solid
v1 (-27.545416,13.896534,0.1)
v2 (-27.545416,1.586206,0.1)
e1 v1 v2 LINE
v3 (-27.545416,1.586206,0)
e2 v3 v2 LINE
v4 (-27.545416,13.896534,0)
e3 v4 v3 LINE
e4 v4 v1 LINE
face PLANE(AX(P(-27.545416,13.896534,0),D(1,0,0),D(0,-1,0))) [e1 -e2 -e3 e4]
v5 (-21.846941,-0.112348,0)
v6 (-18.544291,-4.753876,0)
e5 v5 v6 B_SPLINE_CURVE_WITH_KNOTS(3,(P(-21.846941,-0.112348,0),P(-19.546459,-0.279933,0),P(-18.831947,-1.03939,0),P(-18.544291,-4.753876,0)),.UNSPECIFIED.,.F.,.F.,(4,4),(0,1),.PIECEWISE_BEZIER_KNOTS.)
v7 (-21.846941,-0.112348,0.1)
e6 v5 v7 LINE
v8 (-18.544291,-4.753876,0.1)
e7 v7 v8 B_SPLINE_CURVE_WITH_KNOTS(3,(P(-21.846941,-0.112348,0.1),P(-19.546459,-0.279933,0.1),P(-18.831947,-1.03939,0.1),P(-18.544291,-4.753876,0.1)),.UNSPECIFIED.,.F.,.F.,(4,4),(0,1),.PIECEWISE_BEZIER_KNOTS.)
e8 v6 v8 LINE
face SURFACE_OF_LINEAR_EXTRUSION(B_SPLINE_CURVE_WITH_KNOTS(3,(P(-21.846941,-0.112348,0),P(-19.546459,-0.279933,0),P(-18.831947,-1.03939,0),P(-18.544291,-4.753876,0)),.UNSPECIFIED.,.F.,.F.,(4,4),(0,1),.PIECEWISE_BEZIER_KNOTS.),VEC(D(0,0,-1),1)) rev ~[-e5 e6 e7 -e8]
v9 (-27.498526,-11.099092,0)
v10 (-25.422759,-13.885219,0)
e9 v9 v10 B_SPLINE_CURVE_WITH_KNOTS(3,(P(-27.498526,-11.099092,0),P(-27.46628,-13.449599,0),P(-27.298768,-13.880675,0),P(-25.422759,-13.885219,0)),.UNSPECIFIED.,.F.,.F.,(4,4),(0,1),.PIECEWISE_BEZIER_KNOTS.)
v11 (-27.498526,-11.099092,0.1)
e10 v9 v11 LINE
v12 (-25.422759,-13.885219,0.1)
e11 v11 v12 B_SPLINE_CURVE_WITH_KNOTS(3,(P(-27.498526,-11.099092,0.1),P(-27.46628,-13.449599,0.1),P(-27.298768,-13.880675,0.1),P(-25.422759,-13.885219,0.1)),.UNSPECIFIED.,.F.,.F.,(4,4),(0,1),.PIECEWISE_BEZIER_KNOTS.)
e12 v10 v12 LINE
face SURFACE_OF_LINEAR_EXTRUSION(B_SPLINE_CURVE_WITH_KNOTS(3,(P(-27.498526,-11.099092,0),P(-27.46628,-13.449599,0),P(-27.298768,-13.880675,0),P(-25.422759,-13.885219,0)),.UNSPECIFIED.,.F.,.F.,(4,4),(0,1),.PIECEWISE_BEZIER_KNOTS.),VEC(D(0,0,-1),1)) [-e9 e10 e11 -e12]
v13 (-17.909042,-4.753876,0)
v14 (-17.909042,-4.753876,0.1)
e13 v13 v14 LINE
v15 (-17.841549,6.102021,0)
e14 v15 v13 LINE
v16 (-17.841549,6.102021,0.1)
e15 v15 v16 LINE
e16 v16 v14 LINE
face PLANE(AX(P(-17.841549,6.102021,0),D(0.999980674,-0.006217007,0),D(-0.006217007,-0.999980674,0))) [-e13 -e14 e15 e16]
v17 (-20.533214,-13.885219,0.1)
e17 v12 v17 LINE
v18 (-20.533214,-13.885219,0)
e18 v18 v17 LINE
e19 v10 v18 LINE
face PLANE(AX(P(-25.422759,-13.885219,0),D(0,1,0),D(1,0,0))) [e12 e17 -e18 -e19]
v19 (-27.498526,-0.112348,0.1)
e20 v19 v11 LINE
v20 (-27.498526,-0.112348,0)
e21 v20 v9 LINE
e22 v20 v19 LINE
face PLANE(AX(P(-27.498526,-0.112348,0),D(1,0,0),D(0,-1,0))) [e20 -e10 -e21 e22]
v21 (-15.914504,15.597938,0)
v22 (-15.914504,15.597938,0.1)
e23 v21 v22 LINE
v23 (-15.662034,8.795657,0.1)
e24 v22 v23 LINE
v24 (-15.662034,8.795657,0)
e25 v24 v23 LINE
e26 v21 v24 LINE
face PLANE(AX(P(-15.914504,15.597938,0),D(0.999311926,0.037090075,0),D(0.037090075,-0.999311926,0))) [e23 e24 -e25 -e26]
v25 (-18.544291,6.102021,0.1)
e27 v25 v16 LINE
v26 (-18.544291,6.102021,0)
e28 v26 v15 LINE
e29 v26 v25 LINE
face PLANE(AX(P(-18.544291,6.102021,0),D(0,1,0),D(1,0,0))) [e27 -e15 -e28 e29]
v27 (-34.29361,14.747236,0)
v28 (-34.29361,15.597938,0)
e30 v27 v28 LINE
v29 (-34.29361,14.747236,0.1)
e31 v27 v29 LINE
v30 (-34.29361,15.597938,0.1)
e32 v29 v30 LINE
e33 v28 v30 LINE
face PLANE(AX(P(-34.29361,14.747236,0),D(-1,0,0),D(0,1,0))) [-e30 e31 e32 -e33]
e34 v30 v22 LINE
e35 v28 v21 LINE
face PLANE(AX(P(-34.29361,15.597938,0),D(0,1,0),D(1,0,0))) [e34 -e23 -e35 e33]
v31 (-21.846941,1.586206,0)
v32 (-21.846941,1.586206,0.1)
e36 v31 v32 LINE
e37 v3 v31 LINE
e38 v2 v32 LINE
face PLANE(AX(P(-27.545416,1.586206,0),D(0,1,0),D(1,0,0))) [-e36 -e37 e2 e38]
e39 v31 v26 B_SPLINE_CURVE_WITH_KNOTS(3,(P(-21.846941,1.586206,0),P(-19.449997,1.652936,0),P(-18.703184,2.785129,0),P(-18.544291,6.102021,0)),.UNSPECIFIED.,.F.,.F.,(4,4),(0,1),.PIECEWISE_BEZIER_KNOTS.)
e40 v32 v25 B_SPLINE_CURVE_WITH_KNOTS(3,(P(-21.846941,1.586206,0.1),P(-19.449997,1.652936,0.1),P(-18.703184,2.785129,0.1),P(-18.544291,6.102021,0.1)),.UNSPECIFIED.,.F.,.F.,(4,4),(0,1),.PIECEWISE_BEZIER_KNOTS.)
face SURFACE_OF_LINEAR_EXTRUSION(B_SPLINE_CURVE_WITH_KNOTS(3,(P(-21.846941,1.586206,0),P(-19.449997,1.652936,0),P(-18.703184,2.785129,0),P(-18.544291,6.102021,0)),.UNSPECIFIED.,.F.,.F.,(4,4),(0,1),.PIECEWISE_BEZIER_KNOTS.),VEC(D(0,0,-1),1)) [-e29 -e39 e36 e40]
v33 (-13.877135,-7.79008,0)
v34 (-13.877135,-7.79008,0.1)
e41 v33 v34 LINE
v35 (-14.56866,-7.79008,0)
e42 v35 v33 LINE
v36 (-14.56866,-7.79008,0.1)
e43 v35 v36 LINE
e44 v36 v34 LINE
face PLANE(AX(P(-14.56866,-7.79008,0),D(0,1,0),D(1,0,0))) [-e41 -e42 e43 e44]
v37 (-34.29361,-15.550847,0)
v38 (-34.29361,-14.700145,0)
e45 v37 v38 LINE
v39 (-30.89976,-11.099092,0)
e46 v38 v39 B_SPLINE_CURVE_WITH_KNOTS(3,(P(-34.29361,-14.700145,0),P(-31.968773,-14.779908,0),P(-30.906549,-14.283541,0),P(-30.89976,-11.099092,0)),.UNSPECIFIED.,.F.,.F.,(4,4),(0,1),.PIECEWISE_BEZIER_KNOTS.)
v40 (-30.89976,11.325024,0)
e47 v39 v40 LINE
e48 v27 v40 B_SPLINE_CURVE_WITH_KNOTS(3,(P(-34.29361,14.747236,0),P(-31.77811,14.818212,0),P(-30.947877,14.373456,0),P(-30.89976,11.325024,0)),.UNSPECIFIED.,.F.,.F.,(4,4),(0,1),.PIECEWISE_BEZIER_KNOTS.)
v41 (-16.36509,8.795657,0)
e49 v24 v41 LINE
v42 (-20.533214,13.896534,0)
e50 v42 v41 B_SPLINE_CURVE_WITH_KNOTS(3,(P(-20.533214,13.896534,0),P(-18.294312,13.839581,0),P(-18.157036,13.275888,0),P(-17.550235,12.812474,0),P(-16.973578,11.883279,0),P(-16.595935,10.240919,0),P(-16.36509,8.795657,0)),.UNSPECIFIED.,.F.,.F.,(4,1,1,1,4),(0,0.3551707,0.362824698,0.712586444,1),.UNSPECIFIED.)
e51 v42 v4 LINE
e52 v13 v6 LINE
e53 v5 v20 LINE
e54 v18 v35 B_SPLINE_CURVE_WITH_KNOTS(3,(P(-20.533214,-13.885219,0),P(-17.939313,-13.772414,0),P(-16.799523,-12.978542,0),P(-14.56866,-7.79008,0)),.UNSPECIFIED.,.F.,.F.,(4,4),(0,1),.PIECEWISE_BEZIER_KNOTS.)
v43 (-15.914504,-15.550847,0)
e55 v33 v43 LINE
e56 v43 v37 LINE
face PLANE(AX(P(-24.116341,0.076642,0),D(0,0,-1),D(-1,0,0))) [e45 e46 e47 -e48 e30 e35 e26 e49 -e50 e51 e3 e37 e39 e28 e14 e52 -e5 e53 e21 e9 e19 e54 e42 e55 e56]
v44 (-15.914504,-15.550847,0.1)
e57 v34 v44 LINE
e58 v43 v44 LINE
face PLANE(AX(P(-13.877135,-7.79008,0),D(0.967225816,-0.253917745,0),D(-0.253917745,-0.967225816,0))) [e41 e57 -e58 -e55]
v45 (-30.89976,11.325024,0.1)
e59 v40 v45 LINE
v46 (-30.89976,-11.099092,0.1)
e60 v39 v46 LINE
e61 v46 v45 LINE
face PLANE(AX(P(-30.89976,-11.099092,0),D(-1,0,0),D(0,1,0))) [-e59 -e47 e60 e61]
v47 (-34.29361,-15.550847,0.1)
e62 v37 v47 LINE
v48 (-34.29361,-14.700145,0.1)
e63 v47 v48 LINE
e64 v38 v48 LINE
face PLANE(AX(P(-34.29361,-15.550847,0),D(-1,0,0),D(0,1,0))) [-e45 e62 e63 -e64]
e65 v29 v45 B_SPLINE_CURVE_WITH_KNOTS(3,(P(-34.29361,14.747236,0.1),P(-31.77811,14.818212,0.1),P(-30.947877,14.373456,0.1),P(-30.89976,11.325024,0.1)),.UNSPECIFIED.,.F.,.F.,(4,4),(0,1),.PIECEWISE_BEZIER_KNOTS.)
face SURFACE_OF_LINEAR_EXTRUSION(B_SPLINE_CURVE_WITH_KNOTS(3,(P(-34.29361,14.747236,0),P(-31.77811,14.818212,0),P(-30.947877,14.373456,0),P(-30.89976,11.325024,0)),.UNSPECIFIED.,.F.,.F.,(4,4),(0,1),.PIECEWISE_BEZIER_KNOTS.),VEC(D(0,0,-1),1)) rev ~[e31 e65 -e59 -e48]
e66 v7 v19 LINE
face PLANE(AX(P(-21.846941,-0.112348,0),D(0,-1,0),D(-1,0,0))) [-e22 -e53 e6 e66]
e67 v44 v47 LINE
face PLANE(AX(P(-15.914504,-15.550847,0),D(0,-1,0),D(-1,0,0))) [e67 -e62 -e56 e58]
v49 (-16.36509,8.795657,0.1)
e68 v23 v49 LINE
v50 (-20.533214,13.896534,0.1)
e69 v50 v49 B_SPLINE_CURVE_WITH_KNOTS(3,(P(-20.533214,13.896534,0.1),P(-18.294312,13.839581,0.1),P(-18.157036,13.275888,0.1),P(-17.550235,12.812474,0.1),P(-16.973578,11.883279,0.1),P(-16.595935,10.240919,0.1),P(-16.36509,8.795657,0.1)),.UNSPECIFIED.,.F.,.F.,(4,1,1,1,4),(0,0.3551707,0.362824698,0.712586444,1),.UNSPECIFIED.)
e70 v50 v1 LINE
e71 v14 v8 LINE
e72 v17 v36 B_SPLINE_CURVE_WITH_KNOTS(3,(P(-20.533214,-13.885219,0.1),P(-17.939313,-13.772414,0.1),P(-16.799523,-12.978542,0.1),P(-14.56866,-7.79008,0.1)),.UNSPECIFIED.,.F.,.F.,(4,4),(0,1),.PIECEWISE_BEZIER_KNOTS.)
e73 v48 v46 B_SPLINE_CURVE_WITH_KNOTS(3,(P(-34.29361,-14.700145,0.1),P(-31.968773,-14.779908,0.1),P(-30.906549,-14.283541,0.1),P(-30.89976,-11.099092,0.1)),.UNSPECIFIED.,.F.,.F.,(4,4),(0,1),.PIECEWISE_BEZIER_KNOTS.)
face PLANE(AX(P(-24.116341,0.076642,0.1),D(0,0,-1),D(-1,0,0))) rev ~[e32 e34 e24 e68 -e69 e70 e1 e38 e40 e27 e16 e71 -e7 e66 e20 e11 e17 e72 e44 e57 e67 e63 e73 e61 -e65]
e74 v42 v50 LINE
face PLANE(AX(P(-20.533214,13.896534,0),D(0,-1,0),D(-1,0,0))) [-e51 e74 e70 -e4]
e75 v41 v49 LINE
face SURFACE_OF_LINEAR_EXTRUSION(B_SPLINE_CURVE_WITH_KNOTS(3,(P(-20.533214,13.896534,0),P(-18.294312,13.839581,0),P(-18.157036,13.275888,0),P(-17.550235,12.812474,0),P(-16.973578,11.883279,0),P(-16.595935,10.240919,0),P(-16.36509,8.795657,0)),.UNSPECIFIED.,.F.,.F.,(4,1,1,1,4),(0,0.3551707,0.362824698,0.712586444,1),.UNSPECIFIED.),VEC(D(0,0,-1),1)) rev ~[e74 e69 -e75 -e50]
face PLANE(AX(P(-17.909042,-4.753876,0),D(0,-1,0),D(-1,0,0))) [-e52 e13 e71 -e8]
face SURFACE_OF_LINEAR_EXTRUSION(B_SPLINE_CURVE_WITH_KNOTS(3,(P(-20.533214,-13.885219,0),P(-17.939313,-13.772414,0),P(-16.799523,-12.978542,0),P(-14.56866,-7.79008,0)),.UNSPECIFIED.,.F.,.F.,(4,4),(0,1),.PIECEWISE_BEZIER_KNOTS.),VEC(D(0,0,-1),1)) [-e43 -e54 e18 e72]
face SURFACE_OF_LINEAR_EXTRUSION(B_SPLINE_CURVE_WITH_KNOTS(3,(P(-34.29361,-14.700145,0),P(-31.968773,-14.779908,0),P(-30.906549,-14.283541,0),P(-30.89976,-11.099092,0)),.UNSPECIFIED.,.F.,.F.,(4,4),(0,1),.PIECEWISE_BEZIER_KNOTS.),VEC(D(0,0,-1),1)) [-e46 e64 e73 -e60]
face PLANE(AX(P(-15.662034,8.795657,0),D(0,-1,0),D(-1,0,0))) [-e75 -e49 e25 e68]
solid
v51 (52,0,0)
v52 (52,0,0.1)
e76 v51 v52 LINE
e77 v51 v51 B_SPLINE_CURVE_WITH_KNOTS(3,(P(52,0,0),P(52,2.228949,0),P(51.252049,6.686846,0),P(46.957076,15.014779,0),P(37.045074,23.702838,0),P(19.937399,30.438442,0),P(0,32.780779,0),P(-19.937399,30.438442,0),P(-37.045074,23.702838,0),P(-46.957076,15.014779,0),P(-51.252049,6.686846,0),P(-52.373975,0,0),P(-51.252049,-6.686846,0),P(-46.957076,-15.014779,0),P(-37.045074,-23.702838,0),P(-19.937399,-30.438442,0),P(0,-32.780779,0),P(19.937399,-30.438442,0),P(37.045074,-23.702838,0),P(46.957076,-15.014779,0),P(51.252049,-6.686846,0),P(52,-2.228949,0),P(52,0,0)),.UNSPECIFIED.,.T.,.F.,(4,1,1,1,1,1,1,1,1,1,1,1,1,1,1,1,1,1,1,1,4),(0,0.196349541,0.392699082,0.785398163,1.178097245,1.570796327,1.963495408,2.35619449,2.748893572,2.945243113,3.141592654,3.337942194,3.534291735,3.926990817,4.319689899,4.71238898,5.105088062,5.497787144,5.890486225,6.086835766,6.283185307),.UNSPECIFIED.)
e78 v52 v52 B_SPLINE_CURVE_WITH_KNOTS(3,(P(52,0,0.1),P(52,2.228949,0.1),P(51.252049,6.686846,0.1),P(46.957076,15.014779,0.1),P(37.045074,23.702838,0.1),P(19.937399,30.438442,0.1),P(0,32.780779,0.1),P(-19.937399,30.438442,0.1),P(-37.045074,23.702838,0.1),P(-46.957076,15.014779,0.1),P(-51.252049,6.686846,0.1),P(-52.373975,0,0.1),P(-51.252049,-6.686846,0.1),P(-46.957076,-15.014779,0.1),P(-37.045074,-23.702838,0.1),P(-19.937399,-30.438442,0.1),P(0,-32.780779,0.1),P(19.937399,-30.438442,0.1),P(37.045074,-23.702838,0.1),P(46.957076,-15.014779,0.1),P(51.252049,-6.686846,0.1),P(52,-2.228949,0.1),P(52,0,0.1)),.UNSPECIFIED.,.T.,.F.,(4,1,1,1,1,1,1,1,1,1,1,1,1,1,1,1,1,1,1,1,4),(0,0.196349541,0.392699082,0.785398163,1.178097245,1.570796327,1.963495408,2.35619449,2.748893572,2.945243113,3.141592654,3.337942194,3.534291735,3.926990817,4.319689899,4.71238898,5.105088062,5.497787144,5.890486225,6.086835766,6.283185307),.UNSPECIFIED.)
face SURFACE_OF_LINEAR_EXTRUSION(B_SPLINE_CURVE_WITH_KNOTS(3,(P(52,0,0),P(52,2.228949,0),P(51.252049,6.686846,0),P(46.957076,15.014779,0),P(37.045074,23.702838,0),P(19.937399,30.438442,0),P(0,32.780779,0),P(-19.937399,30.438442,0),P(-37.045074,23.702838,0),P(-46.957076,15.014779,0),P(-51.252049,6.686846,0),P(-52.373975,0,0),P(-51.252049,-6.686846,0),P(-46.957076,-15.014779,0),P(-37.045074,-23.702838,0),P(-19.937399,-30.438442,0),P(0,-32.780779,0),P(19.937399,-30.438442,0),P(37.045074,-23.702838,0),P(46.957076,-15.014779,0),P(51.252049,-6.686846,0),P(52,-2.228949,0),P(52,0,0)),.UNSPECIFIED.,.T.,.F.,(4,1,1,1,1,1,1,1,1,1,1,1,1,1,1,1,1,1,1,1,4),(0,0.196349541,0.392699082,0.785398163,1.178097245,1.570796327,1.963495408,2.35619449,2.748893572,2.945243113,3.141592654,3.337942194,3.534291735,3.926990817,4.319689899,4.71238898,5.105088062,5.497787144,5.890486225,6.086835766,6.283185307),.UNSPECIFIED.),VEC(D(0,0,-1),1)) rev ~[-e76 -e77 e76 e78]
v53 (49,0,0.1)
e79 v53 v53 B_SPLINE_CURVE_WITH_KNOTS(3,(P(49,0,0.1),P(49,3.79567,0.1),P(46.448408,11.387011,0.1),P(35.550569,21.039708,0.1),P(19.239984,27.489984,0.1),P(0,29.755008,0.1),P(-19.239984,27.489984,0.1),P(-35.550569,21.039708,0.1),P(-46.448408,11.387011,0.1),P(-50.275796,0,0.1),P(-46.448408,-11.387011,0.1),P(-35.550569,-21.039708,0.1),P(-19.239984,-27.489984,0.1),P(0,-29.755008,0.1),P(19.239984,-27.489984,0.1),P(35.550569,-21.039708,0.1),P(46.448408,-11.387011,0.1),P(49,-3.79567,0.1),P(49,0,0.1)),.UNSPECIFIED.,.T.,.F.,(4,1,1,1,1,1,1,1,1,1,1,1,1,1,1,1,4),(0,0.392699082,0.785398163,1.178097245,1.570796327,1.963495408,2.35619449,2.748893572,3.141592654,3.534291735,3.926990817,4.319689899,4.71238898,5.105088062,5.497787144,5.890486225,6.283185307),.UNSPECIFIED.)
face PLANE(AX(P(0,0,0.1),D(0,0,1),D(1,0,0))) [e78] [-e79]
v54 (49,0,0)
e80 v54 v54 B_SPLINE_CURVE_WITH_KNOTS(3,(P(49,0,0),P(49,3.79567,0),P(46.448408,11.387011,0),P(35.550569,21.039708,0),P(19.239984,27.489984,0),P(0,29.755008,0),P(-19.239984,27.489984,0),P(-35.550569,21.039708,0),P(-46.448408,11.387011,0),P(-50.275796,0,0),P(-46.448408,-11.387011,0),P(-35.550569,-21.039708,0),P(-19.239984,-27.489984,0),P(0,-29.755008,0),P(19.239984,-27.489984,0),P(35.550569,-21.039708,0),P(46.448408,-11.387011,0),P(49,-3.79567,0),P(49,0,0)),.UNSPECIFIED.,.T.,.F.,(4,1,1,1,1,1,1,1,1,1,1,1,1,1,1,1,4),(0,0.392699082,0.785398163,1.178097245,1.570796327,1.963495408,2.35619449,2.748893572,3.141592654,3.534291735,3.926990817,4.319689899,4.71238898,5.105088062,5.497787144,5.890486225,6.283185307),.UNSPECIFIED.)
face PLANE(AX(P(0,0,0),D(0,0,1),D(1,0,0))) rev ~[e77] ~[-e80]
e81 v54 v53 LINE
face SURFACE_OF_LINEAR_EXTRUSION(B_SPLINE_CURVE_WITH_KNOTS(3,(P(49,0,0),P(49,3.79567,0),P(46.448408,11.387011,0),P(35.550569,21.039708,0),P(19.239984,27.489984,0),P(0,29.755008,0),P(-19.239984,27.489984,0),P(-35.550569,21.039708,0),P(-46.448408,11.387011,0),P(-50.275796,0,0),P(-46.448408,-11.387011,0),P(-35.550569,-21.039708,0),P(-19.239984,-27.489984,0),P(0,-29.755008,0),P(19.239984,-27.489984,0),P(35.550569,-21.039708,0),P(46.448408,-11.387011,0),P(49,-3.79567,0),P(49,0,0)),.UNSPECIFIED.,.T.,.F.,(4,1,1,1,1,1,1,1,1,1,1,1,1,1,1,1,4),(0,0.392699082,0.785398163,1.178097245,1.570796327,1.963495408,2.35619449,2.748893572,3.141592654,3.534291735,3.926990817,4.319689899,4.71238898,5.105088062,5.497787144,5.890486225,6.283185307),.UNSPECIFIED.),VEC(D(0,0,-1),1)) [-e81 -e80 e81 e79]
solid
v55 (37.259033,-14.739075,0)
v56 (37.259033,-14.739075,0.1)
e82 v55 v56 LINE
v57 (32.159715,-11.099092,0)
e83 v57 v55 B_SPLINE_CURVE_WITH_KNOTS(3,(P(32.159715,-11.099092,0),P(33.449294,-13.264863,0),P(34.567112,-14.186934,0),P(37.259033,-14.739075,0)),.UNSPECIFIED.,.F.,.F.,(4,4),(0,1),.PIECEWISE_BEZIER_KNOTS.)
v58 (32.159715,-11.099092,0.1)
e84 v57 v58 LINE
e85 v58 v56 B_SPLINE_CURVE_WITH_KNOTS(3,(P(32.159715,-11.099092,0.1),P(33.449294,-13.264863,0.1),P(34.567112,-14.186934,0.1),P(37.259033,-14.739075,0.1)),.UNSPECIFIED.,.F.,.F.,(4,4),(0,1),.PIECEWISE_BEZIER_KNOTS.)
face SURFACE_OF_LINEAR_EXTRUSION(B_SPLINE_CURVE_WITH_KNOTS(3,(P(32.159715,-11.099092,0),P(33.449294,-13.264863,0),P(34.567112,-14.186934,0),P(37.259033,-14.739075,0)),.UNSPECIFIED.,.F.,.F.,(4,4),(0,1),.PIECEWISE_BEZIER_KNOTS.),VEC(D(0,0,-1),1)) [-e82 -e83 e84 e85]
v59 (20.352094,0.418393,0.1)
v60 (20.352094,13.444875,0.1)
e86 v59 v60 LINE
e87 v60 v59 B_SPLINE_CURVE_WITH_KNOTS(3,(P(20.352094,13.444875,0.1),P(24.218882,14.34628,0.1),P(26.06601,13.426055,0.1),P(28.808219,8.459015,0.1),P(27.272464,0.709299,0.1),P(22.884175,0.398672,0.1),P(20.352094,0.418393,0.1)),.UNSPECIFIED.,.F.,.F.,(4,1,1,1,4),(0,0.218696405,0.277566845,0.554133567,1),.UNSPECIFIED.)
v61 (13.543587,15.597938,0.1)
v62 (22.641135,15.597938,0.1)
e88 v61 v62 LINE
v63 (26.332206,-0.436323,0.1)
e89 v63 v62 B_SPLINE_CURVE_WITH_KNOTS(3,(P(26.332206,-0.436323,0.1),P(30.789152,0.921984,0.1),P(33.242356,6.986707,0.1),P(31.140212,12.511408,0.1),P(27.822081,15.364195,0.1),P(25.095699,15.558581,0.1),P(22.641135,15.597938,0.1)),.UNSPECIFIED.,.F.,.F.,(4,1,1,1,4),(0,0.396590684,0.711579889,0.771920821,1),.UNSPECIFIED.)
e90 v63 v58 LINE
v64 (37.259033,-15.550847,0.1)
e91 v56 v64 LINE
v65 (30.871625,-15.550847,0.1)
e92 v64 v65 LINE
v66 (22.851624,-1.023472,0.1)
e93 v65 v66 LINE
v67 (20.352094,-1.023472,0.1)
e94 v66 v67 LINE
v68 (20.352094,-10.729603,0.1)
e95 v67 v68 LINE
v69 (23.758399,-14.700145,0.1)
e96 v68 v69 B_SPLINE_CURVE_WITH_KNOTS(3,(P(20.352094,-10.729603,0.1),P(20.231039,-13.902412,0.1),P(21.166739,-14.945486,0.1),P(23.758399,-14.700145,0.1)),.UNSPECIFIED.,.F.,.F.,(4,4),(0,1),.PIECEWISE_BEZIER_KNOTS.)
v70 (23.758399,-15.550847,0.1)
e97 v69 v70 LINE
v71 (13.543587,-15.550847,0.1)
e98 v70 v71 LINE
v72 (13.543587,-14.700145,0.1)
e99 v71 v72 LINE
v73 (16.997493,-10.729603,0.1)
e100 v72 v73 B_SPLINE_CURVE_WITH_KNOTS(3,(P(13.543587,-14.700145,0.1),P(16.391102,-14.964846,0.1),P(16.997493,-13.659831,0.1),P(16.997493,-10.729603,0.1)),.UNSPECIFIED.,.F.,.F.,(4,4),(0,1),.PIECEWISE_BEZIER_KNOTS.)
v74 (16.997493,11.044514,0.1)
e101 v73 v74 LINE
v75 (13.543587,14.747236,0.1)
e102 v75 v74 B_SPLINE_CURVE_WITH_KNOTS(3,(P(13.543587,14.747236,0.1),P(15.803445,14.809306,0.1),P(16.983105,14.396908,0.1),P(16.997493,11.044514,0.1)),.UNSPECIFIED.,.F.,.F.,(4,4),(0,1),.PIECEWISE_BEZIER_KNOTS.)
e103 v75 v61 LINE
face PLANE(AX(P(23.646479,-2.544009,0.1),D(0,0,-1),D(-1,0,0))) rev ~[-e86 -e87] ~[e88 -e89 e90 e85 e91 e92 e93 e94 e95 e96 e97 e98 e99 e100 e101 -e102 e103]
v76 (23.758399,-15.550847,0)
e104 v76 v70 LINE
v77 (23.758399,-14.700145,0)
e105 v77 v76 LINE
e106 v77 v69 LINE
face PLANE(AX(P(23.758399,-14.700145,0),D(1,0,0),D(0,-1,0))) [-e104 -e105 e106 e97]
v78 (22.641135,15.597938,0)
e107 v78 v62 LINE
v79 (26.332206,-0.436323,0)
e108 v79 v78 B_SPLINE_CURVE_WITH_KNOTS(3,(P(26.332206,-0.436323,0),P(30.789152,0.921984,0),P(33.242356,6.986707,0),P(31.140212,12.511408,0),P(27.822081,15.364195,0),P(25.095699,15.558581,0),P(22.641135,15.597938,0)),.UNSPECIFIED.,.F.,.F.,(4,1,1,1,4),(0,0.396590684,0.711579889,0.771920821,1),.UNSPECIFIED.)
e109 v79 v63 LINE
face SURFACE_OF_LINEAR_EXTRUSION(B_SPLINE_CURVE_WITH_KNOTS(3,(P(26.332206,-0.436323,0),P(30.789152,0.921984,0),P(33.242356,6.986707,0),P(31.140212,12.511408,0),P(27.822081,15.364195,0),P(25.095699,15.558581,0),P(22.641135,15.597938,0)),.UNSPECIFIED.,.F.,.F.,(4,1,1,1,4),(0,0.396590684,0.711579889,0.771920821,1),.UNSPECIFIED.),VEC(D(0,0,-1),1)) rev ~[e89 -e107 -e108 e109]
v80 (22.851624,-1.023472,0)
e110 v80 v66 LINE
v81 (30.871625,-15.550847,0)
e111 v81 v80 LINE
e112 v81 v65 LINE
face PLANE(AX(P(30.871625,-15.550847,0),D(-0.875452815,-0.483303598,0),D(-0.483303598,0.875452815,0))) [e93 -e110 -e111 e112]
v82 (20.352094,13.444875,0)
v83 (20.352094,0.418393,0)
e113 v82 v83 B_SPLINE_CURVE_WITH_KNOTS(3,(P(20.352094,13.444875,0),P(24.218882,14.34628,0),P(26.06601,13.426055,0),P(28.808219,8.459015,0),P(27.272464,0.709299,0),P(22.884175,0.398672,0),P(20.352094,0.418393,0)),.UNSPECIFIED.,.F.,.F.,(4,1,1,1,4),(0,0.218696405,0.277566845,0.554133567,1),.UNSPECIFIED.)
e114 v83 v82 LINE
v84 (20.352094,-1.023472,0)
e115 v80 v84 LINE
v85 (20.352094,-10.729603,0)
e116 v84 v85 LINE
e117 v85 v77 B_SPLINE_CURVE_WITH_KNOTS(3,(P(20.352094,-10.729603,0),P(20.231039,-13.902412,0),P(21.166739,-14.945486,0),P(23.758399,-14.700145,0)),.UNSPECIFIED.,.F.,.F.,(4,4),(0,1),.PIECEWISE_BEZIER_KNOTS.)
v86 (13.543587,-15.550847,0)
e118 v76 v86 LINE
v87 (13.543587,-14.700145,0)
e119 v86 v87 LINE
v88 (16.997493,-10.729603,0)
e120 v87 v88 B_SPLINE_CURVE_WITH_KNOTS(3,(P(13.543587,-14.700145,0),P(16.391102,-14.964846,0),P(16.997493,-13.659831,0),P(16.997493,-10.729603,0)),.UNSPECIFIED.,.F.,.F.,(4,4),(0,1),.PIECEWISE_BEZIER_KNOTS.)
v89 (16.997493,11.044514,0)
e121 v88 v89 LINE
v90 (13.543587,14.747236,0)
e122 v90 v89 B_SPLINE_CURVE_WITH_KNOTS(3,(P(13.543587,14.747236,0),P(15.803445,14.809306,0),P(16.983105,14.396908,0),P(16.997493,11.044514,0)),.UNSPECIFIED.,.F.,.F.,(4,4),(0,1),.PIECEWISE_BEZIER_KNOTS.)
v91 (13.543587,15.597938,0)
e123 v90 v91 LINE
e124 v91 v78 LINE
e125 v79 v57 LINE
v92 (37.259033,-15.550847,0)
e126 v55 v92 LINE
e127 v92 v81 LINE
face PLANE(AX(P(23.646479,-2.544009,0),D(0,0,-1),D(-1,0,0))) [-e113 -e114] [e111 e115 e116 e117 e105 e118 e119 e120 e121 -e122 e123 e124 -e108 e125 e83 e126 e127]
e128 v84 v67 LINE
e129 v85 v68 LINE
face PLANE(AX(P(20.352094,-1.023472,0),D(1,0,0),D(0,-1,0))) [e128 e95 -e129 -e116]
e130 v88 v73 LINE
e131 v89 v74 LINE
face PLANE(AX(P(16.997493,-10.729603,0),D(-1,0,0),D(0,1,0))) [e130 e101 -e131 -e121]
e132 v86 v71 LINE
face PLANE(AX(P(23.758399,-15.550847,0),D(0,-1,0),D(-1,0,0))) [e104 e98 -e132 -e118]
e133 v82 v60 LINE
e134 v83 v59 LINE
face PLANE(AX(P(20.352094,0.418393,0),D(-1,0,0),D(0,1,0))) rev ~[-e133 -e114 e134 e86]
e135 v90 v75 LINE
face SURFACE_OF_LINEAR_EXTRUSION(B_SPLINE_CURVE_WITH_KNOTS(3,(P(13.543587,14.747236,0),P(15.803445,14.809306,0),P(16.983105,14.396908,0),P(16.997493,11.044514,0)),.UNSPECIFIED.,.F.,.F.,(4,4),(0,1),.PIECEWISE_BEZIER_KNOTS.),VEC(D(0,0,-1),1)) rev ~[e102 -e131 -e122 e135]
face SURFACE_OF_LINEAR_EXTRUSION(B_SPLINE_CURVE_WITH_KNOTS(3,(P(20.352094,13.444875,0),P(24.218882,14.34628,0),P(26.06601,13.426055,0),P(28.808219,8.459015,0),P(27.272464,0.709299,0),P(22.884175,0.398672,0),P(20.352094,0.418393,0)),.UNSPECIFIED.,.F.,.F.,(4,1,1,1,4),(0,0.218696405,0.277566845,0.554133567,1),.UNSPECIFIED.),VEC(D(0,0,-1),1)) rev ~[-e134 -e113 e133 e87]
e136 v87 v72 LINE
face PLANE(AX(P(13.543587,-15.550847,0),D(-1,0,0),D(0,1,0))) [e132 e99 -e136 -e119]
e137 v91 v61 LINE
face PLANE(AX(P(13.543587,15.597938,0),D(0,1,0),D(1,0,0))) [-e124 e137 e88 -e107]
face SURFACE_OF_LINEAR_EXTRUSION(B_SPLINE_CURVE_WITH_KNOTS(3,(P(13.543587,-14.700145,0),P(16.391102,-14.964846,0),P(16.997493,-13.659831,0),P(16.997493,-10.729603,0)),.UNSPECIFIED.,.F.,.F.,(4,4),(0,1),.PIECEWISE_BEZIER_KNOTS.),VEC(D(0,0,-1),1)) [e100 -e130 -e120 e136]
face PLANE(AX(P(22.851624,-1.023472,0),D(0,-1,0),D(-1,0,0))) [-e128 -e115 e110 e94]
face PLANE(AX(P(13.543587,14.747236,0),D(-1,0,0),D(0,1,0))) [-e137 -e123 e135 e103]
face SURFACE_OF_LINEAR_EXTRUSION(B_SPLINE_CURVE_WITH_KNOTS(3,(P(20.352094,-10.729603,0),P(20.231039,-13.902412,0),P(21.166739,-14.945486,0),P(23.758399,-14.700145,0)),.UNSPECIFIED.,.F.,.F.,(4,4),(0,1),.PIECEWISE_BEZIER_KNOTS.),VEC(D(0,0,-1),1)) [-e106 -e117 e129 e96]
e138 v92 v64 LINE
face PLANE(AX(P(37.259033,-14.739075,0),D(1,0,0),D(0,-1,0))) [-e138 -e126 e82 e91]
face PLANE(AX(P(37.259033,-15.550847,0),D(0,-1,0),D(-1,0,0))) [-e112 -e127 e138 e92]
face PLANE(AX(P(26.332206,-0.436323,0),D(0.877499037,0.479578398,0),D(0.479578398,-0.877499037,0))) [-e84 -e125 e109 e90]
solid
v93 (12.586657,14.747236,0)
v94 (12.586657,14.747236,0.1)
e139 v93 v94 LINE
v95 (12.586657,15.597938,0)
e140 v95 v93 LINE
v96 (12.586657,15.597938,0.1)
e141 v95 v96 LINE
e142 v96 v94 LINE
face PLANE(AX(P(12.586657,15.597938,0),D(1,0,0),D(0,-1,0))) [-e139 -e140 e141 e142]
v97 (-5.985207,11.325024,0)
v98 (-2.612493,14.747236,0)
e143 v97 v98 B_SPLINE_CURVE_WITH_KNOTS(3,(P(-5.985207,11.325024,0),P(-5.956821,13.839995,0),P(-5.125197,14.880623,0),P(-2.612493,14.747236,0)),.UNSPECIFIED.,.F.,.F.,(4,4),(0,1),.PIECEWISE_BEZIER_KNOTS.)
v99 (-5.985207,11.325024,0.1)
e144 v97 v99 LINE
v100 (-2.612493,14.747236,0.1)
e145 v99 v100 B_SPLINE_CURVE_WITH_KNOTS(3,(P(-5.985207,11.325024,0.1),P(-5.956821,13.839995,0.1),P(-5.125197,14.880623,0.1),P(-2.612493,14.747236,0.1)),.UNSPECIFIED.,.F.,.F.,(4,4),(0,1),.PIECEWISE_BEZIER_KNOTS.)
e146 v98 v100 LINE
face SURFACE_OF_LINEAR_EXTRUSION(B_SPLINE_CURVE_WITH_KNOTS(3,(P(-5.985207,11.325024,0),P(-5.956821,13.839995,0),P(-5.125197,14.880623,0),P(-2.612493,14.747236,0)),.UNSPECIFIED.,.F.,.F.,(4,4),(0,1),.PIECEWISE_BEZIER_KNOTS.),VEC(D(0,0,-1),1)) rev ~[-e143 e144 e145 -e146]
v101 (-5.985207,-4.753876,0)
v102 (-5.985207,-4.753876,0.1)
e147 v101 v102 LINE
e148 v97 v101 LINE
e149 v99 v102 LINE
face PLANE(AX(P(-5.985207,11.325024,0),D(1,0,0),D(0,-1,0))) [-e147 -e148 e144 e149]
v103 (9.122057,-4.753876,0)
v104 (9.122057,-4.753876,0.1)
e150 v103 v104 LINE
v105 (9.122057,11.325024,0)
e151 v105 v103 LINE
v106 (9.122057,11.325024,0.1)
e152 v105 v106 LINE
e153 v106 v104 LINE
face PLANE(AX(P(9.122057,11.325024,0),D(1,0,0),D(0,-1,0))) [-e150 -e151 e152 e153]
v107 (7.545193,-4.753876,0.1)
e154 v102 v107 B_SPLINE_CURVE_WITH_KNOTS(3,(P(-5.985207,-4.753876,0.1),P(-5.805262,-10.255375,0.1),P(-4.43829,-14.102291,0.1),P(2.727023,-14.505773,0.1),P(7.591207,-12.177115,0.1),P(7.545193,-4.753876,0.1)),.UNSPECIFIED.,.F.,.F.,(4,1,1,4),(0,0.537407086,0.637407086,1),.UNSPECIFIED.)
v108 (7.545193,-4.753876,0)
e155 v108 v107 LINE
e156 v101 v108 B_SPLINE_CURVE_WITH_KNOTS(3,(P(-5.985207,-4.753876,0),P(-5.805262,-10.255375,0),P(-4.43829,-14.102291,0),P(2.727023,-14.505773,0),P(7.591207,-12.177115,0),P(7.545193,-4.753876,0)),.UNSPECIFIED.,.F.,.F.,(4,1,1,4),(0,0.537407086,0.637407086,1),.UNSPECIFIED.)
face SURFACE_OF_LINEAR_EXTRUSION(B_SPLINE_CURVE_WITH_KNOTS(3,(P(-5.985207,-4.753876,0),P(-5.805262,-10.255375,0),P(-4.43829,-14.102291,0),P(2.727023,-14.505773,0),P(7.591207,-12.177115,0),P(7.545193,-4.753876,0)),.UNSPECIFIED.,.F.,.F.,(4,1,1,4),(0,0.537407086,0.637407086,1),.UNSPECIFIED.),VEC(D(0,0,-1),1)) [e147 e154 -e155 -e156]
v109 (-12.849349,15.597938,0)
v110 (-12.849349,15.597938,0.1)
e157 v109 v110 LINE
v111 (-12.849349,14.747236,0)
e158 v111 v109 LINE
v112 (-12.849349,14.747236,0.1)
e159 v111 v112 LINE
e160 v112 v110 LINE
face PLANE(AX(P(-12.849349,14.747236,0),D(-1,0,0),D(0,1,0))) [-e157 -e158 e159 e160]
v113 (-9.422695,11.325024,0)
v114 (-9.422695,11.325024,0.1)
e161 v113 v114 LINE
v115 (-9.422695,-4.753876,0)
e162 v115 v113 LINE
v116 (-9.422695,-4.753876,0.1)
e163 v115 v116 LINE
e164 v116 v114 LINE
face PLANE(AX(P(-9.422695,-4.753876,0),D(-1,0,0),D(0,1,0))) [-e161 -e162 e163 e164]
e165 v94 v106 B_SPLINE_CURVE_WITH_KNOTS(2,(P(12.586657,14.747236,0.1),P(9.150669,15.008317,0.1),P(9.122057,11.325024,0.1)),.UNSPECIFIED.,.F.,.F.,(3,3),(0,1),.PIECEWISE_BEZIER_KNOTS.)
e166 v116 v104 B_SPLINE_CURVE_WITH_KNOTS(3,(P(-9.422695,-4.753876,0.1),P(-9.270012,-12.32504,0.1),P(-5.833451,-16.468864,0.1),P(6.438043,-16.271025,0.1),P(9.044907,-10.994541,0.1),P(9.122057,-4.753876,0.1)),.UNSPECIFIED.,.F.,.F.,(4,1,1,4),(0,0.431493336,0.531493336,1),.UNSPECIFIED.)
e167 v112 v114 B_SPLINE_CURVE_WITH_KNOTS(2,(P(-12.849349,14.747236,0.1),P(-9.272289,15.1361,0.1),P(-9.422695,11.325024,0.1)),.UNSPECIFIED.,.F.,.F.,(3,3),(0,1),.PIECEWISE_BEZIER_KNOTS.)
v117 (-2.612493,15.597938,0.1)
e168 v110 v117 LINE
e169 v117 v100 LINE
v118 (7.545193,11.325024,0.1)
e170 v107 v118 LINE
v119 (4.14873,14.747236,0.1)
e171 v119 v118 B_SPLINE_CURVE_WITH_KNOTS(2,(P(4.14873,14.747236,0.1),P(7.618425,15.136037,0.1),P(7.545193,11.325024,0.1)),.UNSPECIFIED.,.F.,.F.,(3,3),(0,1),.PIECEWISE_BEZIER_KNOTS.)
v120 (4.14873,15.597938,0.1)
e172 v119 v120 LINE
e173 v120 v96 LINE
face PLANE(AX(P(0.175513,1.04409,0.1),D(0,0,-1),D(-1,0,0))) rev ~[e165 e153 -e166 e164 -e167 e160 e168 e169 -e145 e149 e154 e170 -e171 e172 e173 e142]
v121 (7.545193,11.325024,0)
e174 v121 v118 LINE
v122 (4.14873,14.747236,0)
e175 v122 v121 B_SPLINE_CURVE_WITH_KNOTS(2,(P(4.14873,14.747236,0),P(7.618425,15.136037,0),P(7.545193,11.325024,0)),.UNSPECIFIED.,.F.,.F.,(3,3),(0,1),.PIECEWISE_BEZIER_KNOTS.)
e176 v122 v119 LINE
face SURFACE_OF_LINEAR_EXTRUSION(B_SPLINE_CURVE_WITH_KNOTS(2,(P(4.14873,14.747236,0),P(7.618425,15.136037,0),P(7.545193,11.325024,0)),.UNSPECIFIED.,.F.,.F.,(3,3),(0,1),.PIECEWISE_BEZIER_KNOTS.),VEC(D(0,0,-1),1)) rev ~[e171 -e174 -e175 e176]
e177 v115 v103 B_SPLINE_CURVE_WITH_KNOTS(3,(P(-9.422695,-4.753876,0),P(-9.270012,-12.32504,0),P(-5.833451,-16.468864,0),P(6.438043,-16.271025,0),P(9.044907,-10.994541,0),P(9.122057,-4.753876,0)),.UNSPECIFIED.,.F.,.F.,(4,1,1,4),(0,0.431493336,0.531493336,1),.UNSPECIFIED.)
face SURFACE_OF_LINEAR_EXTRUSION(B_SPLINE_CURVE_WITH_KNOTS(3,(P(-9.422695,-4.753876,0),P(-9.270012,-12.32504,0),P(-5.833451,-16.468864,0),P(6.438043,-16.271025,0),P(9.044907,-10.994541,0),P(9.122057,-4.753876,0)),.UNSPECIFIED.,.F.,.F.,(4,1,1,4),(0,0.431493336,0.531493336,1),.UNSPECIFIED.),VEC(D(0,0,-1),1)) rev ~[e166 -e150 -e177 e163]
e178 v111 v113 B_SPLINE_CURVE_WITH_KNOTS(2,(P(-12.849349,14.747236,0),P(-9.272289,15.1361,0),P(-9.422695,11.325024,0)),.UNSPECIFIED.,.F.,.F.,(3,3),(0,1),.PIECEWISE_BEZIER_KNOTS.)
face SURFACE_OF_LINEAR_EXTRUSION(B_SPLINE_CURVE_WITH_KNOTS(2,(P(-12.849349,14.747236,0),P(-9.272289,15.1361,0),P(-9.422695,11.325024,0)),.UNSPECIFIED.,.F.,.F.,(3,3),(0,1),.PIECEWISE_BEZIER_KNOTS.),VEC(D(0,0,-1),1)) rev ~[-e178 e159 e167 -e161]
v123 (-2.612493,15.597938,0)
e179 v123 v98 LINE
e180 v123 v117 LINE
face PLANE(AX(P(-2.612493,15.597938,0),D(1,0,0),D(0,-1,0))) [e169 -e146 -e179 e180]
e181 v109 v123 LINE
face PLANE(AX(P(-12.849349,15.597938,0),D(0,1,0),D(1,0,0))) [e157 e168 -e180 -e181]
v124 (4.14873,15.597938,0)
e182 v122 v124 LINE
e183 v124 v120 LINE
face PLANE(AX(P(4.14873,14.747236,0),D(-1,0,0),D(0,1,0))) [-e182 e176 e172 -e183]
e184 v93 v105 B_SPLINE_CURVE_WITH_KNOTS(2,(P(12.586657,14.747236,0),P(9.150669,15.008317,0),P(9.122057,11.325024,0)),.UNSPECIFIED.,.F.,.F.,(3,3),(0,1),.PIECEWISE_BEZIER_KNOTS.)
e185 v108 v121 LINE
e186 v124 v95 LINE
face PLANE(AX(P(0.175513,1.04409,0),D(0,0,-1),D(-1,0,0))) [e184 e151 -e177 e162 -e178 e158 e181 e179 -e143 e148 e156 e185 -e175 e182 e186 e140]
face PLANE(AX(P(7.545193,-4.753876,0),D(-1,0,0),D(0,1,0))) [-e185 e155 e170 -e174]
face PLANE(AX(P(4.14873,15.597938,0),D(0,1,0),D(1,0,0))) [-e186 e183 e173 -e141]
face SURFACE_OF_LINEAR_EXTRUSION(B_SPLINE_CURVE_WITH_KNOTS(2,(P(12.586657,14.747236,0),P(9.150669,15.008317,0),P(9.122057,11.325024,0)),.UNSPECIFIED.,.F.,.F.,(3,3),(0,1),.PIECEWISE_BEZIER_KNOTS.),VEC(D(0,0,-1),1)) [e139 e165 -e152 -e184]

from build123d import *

# Parameters (mm, degrees)
BOSS_EXTRUDE1_DEPTH   = 0.1
BOSS_EXTRUDE1_2_DEPTH = 0.1
BOSS_EXTRUDE1_3_DEPTH = 0.1
BOSS_EXTRUDE1_4_DEPTH = 0.1


with BuildPart() as part:
    # Sketch2 → Boss-Extrude1 (new body)
    with BuildSketch(Plane.XY):
        with BuildLine():
            add(Edge.make_bspline(
                [(52, 0), (52, 2.228948685), (51.252049299, 6.686846055), (46.957076028, 15.014779342), (37.045073505, 23.70283763), (19.937399208, 30.438442012), (0, 32.780778994), (-19.937399208, 30.438442012), (-37.045073505, 23.70283763), (-46.957076028, 15.014779342), (-51.252049299, 6.686846055), (-52.373975351, 0), (-51.252049299, -6.686846055), (-46.957076028, -15.014779342), (-37.045073505, -23.70283763), (-19.937399208, -30.438442012), (0, -32.780778994), (19.937399208, -30.438442012), (37.045073505, -23.70283763), (46.957076028, -15.014779342), (51.252049299, -6.686846055), (52, -2.228948685), (52, 0)],
                knots=[0, 0, 0, 0, 0.196349541, 0.392699082, 0.785398163, 1.178097245, 1.570796327, 1.963495408, 2.35619449, 2.748893572, 2.945243113, 3.141592654, 3.337942194, 3.534291735, 3.926990817, 4.319689899, 4.71238898, 5.105088062, 5.497787144, 5.890486225, 6.086835766, 6.283185307, 6.283185307, 6.283185307, 6.283185307], degree=3))
        make_face()
        with BuildLine():
            add(Edge.make_bspline(
                [(49, 0), (49, 3.795670439), (46.448408259, 11.387011317), (35.55056883, 21.03970762), (19.239984052, 27.489984223), (0, 29.755007889), (-19.239984052, 27.489984223), (-35.55056883, 21.03970762), (-46.448408259, 11.387011317), (-50.27579587, 0), (-46.448408259, -11.387011317), (-35.55056883, -21.03970762), (-19.239984052, -27.489984223), (0, -29.755007889), (19.239984052, -27.489984223), (35.55056883, -21.03970762), (46.448408259, -11.387011317), (49, -3.795670439), (49, 0)],
                knots=[0, 0, 0, 0, 0.392699082, 0.785398163, 1.178097245, 1.570796327, 1.963495408, 2.35619449, 2.748893572, 3.141592654, 3.534291735, 3.926990817, 4.319689899, 4.71238898, 5.105088062, 5.497787144, 5.890486225, 6.283185307, 6.283185307, 6.283185307, 6.283185307], degree=3))
        make_face(mode=Mode.SUBTRACT)
    extrude(amount=BOSS_EXTRUDE1_DEPTH)


with BuildPart() as body_2:
    # Sketch2 → Boss-Extrude1 2 (new body)
    with BuildSketch(Plane.XY):
        with BuildLine():
            add(Edge.make_bspline(
                [(-20.53321378, -13.885218629), (-17.939312864, -13.772413756), (-16.799522635, -12.978542177), (-14.568659585, -7.790080027)],
                knots=[0, 0, 0, 0, 1, 1, 1, 1], degree=3))
            Line((-14.568659585, -7.790080027), (-13.877134811, -7.790080027))
            Line((-13.877134811, -7.790080027), (-15.914504346, -15.550846857))
            Line((-15.914504346, -15.550846857), (-34.293609895, -15.550846857))
            Line((-34.293609895, -15.550846857), (-34.293609895, -14.700144738))
            add(Edge.make_bspline(
                [(-34.293609895, -14.700144738), (-31.968772891, -14.779907863), (-30.906548608, -14.283541461), (-30.899759694, -11.099092097)],
                knots=[0, 0, 0, 0, 1, 1, 1, 1], degree=3))
            Line((-30.899759694, -11.099092097), (-30.899759694, 11.325023789))
            add(Edge.make_bspline(
                [(-34.293609895, 14.747236284), (-31.778109599, 14.818211839), (-30.947876885, 14.3734562), (-30.899759694, 11.325023789)],
                knots=[0, 0, 0, 0, 1, 1, 1, 1], degree=3))
            Line((-34.293609895, 14.747236284), (-34.293609895, 15.597938403))
            Line((-34.293609895, 15.597938403), (-15.914504346, 15.597938403))
            Line((-15.914504346, 15.597938403), (-15.662033514, 8.795657411))
            Line((-15.662033514, 8.795657411), (-16.36509046, 8.795657411))
            add(Edge.make_bspline(
                [(-20.53321378, 13.896534166), (-18.294312259, 13.839581008), (-18.157036428, 13.27588795), (-17.550235234, 12.812474393), (-16.97357798, 11.88327924), (-16.595935133, 10.240919383), (-16.36509046, 8.795657411)],
                knots=[0, 0, 0, 0, 0.3551707, 0.362824698, 0.712586444, 1, 1, 1, 1], degree=3))
            Line((-20.53321378, 13.896534166), (-27.54541593, 13.896534166))
            Line((-27.54541593, 13.896534166), (-27.54541593, 1.586206479))
            Line((-27.54541593, 1.586206479), (-21.846941027, 1.586206479))
            add(Edge.make_bspline(
                [(-21.846941027, 1.586206479), (-19.44999714, 1.652936266), (-18.703183708, 2.785128575), (-18.544290675, 6.102020656)],
                knots=[0, 0, 0, 0, 1, 1, 1, 1], degree=3))
            Line((-18.544290675, 6.102020656), (-17.841549223, 6.102020656))
            Line((-17.841549223, 6.102020656), (-17.909041715, -4.753876048))
            Line((-17.909041715, -4.753876048), (-18.544290675, -4.753876048))
            add(Edge.make_bspline(
                [(-21.846941027, -0.112348348), (-19.546458896, -0.279932578), (-18.831946887, -1.039390223), (-18.544290675, -4.753876048)],
                knots=[0, 0, 0, 0, 1, 1, 1, 1], degree=3))
            Line((-21.846941027, -0.112348348), (-27.498525868, -0.112348348))
            Line((-27.498525868, -0.112348348), (-27.498525868, -11.099092097))
            add(Edge.make_bspline(
                [(-27.498525868, -11.099092097), (-27.466279877, -13.44959927), (-27.298767976, -13.880675207), (-25.42275882, -13.885218629)],
                knots=[0, 0, 0, 0, 1, 1, 1, 1], degree=3))
            Line((-25.42275882, -13.885218629), (-20.53321378, -13.885218629))
        make_face()
    extrude(amount=BOSS_EXTRUDE1_2_DEPTH)


with BuildPart() as body_3:
    # Sketch2 → Boss-Extrude1 3 (new body)
    with BuildSketch(Plane.XY):
        with BuildLine():
            add(Edge.make_bspline(
                [(20.352093641, -10.729603141), (20.231039198, -13.902411712), (21.16673885, -14.9454865), (23.758399066, -14.700144738)],
                knots=[0, 0, 0, 0, 1, 1, 1, 1], degree=3))
            Line((23.758399066, -14.700144738), (23.758399066, -15.550846857))
            Line((23.758399066, -15.550846857), (13.543587323, -15.550846857))
            Line((13.543587323, -15.550846857), (13.543587323, -14.700144738))
            add(Edge.make_bspline(
                [(13.543587323, -14.700144738), (16.391102017, -14.964845803), (16.997492771, -13.659831466), (16.997492771, -10.729603141)],
                knots=[0, 0, 0, 0, 1, 1, 1, 1], degree=3))
            Line((16.997492771, -10.729603141), (16.997492771, 11.044513644))
            add(Edge.make_bspline(
                [(13.543587323, 14.747236284), (15.803445344, 14.809306146), (16.983104813, 14.396907936), (16.997492771, 11.044513644)],
                knots=[0, 0, 0, 0, 1, 1, 1, 1], degree=3))
            Line((13.543587323, 14.747236284), (13.543587323, 15.597938403))
            Line((13.543587323, 15.597938403), (22.641134615, 15.597938403))
            add(Edge.make_bspline(
                [(26.332206115, -0.436323387), (30.789152241, 0.921984004), (33.24235611, 6.986707397), (31.140211863, 12.511407914), (27.8220809, 15.364194811), (25.095698568, 15.558580899), (22.641134615, 15.597938403)],
                knots=[0, 0, 0, 0, 0.396590684, 0.711579889, 0.771920821, 1, 1, 1, 1], degree=3))
            Line((26.332206115, -0.436323387), (32.159715107, -11.099092097))
            add(Edge.make_bspline(
                [(32.159715107, -11.099092097), (33.449294015, -13.264862704), (34.567111916, -14.186934364), (37.259033439, -14.739075353)],
                knots=[0, 0, 0, 0, 1, 1, 1, 1], degree=3))
            Line((37.259033439, -14.739075353), (37.259033439, -15.550846857))
            Line((37.259033439, -15.550846857), (30.871625282, -15.550846857))
            Line((30.871625282, -15.550846857), (22.851624307, -1.023472219))
            Line((22.851624307, -1.023472219), (20.352093641, -1.023472219))
            Line((20.352093641, -1.023472219), (20.352093641, -10.729603141))
        make_face()
        with BuildLine():
            Line((20.352093641, 0.418392934), (20.352093641, 13.444875089))
            add(Edge.make_bspline(
                [(20.352093641, 13.444875089), (24.218881911, 14.346280196), (26.066009596, 13.426054743), (28.808218928, 8.459015126), (27.272463937, 0.709298708), (22.884174549, 0.398671861), (20.352093641, 0.418392934)],
                knots=[0, 0, 0, 0, 0.218696405, 0.277566845, 0.554133567, 1, 1, 1, 1], degree=3))
        make_face(mode=Mode.SUBTRACT)
    extrude(amount=BOSS_EXTRUDE1_3_DEPTH)


with BuildPart() as body_4:
    # Sketch2 → Boss-Extrude1 4 (new body)
    with BuildSketch(Plane.XY):
        with BuildLine():
            Line((-9.422695132, -4.753876048), (-9.422695132, 11.325023789))
            add(Edge.make_bspline(
                [(-12.849349073, 14.747236284), (-9.272289121, 15.136100425), (-9.422695132, 11.325023789)],
                knots=[0, 0, 0, 1, 1, 1], degree=2))
            Line((-12.849349073, 14.747236284), (-12.849349073, 15.597938403))
            Line((-12.849349073, 15.597938403), (-2.61249291, 15.597938403))
            Line((-2.61249291, 15.597938403), (-2.61249291, 14.747236284))
            add(Edge.make_bspline(
                [(-5.985207278, 11.325023789), (-5.956820836, 13.839995455), (-5.125196932, 14.880623058), (-2.61249291, 14.747236284)],
                knots=[0, 0, 0, 0, 1, 1, 1, 1], degree=3))
            Line((-5.985207278, 11.325023789), (-5.985207278, -4.753876048))
            add(Edge.make_bspline(
                [(-5.985207278, -4.753876048), (-5.805262357, -10.255375051), (-4.438289749, -14.102291276), (2.727023433, -14.505773424), (7.591207178, -12.177115011), (7.545192688, -4.753876048)],
                knots=[0, 0, 0, 0, 0.537407086, 0.637407086, 1, 1, 1, 1], degree=3))
            Line((7.545192688, -4.753876048), (7.545192688, 11.325023789))
            add(Edge.make_bspline(
                [(4.148730354, 14.747236284), (7.618425349, 15.136036682), (7.545192688, 11.325023789)],
                knots=[0, 0, 0, 1, 1, 1], degree=2))
            Line((4.148730354, 14.747236284), (4.148730354, 15.597938403))
            Line((4.148730354, 15.597938403), (12.586656857, 15.597938403))
            Line((12.586656857, 15.597938403), (12.586656857, 14.747236284))
            add(Edge.make_bspline(
                [(12.586656857, 14.747236284), (9.150668644, 15.00831748), (9.122057362, 11.325023789)],
                knots=[0, 0, 0, 1, 1, 1], degree=2))
            Line((9.122057362, 11.325023789), (9.122057362, -4.753876048))
            add(Edge.make_bspline(
                [(-9.422695132, -4.753876048), (-9.270011977, -12.325040179), (-5.833450526, -16.468864475), (6.438042765, -16.271024511), (9.044906788, -10.994541249), (9.122057362, -4.753876048)],
                knots=[0, 0, 0, 0, 0.431493336, 0.531493336, 1, 1, 1, 1], degree=3))
        make_face()
    extrude(amount=BOSS_EXTRUDE1_4_DEPTH)


solid = Compound([part.part, body_2.part, body_3.part, body_4.part])
